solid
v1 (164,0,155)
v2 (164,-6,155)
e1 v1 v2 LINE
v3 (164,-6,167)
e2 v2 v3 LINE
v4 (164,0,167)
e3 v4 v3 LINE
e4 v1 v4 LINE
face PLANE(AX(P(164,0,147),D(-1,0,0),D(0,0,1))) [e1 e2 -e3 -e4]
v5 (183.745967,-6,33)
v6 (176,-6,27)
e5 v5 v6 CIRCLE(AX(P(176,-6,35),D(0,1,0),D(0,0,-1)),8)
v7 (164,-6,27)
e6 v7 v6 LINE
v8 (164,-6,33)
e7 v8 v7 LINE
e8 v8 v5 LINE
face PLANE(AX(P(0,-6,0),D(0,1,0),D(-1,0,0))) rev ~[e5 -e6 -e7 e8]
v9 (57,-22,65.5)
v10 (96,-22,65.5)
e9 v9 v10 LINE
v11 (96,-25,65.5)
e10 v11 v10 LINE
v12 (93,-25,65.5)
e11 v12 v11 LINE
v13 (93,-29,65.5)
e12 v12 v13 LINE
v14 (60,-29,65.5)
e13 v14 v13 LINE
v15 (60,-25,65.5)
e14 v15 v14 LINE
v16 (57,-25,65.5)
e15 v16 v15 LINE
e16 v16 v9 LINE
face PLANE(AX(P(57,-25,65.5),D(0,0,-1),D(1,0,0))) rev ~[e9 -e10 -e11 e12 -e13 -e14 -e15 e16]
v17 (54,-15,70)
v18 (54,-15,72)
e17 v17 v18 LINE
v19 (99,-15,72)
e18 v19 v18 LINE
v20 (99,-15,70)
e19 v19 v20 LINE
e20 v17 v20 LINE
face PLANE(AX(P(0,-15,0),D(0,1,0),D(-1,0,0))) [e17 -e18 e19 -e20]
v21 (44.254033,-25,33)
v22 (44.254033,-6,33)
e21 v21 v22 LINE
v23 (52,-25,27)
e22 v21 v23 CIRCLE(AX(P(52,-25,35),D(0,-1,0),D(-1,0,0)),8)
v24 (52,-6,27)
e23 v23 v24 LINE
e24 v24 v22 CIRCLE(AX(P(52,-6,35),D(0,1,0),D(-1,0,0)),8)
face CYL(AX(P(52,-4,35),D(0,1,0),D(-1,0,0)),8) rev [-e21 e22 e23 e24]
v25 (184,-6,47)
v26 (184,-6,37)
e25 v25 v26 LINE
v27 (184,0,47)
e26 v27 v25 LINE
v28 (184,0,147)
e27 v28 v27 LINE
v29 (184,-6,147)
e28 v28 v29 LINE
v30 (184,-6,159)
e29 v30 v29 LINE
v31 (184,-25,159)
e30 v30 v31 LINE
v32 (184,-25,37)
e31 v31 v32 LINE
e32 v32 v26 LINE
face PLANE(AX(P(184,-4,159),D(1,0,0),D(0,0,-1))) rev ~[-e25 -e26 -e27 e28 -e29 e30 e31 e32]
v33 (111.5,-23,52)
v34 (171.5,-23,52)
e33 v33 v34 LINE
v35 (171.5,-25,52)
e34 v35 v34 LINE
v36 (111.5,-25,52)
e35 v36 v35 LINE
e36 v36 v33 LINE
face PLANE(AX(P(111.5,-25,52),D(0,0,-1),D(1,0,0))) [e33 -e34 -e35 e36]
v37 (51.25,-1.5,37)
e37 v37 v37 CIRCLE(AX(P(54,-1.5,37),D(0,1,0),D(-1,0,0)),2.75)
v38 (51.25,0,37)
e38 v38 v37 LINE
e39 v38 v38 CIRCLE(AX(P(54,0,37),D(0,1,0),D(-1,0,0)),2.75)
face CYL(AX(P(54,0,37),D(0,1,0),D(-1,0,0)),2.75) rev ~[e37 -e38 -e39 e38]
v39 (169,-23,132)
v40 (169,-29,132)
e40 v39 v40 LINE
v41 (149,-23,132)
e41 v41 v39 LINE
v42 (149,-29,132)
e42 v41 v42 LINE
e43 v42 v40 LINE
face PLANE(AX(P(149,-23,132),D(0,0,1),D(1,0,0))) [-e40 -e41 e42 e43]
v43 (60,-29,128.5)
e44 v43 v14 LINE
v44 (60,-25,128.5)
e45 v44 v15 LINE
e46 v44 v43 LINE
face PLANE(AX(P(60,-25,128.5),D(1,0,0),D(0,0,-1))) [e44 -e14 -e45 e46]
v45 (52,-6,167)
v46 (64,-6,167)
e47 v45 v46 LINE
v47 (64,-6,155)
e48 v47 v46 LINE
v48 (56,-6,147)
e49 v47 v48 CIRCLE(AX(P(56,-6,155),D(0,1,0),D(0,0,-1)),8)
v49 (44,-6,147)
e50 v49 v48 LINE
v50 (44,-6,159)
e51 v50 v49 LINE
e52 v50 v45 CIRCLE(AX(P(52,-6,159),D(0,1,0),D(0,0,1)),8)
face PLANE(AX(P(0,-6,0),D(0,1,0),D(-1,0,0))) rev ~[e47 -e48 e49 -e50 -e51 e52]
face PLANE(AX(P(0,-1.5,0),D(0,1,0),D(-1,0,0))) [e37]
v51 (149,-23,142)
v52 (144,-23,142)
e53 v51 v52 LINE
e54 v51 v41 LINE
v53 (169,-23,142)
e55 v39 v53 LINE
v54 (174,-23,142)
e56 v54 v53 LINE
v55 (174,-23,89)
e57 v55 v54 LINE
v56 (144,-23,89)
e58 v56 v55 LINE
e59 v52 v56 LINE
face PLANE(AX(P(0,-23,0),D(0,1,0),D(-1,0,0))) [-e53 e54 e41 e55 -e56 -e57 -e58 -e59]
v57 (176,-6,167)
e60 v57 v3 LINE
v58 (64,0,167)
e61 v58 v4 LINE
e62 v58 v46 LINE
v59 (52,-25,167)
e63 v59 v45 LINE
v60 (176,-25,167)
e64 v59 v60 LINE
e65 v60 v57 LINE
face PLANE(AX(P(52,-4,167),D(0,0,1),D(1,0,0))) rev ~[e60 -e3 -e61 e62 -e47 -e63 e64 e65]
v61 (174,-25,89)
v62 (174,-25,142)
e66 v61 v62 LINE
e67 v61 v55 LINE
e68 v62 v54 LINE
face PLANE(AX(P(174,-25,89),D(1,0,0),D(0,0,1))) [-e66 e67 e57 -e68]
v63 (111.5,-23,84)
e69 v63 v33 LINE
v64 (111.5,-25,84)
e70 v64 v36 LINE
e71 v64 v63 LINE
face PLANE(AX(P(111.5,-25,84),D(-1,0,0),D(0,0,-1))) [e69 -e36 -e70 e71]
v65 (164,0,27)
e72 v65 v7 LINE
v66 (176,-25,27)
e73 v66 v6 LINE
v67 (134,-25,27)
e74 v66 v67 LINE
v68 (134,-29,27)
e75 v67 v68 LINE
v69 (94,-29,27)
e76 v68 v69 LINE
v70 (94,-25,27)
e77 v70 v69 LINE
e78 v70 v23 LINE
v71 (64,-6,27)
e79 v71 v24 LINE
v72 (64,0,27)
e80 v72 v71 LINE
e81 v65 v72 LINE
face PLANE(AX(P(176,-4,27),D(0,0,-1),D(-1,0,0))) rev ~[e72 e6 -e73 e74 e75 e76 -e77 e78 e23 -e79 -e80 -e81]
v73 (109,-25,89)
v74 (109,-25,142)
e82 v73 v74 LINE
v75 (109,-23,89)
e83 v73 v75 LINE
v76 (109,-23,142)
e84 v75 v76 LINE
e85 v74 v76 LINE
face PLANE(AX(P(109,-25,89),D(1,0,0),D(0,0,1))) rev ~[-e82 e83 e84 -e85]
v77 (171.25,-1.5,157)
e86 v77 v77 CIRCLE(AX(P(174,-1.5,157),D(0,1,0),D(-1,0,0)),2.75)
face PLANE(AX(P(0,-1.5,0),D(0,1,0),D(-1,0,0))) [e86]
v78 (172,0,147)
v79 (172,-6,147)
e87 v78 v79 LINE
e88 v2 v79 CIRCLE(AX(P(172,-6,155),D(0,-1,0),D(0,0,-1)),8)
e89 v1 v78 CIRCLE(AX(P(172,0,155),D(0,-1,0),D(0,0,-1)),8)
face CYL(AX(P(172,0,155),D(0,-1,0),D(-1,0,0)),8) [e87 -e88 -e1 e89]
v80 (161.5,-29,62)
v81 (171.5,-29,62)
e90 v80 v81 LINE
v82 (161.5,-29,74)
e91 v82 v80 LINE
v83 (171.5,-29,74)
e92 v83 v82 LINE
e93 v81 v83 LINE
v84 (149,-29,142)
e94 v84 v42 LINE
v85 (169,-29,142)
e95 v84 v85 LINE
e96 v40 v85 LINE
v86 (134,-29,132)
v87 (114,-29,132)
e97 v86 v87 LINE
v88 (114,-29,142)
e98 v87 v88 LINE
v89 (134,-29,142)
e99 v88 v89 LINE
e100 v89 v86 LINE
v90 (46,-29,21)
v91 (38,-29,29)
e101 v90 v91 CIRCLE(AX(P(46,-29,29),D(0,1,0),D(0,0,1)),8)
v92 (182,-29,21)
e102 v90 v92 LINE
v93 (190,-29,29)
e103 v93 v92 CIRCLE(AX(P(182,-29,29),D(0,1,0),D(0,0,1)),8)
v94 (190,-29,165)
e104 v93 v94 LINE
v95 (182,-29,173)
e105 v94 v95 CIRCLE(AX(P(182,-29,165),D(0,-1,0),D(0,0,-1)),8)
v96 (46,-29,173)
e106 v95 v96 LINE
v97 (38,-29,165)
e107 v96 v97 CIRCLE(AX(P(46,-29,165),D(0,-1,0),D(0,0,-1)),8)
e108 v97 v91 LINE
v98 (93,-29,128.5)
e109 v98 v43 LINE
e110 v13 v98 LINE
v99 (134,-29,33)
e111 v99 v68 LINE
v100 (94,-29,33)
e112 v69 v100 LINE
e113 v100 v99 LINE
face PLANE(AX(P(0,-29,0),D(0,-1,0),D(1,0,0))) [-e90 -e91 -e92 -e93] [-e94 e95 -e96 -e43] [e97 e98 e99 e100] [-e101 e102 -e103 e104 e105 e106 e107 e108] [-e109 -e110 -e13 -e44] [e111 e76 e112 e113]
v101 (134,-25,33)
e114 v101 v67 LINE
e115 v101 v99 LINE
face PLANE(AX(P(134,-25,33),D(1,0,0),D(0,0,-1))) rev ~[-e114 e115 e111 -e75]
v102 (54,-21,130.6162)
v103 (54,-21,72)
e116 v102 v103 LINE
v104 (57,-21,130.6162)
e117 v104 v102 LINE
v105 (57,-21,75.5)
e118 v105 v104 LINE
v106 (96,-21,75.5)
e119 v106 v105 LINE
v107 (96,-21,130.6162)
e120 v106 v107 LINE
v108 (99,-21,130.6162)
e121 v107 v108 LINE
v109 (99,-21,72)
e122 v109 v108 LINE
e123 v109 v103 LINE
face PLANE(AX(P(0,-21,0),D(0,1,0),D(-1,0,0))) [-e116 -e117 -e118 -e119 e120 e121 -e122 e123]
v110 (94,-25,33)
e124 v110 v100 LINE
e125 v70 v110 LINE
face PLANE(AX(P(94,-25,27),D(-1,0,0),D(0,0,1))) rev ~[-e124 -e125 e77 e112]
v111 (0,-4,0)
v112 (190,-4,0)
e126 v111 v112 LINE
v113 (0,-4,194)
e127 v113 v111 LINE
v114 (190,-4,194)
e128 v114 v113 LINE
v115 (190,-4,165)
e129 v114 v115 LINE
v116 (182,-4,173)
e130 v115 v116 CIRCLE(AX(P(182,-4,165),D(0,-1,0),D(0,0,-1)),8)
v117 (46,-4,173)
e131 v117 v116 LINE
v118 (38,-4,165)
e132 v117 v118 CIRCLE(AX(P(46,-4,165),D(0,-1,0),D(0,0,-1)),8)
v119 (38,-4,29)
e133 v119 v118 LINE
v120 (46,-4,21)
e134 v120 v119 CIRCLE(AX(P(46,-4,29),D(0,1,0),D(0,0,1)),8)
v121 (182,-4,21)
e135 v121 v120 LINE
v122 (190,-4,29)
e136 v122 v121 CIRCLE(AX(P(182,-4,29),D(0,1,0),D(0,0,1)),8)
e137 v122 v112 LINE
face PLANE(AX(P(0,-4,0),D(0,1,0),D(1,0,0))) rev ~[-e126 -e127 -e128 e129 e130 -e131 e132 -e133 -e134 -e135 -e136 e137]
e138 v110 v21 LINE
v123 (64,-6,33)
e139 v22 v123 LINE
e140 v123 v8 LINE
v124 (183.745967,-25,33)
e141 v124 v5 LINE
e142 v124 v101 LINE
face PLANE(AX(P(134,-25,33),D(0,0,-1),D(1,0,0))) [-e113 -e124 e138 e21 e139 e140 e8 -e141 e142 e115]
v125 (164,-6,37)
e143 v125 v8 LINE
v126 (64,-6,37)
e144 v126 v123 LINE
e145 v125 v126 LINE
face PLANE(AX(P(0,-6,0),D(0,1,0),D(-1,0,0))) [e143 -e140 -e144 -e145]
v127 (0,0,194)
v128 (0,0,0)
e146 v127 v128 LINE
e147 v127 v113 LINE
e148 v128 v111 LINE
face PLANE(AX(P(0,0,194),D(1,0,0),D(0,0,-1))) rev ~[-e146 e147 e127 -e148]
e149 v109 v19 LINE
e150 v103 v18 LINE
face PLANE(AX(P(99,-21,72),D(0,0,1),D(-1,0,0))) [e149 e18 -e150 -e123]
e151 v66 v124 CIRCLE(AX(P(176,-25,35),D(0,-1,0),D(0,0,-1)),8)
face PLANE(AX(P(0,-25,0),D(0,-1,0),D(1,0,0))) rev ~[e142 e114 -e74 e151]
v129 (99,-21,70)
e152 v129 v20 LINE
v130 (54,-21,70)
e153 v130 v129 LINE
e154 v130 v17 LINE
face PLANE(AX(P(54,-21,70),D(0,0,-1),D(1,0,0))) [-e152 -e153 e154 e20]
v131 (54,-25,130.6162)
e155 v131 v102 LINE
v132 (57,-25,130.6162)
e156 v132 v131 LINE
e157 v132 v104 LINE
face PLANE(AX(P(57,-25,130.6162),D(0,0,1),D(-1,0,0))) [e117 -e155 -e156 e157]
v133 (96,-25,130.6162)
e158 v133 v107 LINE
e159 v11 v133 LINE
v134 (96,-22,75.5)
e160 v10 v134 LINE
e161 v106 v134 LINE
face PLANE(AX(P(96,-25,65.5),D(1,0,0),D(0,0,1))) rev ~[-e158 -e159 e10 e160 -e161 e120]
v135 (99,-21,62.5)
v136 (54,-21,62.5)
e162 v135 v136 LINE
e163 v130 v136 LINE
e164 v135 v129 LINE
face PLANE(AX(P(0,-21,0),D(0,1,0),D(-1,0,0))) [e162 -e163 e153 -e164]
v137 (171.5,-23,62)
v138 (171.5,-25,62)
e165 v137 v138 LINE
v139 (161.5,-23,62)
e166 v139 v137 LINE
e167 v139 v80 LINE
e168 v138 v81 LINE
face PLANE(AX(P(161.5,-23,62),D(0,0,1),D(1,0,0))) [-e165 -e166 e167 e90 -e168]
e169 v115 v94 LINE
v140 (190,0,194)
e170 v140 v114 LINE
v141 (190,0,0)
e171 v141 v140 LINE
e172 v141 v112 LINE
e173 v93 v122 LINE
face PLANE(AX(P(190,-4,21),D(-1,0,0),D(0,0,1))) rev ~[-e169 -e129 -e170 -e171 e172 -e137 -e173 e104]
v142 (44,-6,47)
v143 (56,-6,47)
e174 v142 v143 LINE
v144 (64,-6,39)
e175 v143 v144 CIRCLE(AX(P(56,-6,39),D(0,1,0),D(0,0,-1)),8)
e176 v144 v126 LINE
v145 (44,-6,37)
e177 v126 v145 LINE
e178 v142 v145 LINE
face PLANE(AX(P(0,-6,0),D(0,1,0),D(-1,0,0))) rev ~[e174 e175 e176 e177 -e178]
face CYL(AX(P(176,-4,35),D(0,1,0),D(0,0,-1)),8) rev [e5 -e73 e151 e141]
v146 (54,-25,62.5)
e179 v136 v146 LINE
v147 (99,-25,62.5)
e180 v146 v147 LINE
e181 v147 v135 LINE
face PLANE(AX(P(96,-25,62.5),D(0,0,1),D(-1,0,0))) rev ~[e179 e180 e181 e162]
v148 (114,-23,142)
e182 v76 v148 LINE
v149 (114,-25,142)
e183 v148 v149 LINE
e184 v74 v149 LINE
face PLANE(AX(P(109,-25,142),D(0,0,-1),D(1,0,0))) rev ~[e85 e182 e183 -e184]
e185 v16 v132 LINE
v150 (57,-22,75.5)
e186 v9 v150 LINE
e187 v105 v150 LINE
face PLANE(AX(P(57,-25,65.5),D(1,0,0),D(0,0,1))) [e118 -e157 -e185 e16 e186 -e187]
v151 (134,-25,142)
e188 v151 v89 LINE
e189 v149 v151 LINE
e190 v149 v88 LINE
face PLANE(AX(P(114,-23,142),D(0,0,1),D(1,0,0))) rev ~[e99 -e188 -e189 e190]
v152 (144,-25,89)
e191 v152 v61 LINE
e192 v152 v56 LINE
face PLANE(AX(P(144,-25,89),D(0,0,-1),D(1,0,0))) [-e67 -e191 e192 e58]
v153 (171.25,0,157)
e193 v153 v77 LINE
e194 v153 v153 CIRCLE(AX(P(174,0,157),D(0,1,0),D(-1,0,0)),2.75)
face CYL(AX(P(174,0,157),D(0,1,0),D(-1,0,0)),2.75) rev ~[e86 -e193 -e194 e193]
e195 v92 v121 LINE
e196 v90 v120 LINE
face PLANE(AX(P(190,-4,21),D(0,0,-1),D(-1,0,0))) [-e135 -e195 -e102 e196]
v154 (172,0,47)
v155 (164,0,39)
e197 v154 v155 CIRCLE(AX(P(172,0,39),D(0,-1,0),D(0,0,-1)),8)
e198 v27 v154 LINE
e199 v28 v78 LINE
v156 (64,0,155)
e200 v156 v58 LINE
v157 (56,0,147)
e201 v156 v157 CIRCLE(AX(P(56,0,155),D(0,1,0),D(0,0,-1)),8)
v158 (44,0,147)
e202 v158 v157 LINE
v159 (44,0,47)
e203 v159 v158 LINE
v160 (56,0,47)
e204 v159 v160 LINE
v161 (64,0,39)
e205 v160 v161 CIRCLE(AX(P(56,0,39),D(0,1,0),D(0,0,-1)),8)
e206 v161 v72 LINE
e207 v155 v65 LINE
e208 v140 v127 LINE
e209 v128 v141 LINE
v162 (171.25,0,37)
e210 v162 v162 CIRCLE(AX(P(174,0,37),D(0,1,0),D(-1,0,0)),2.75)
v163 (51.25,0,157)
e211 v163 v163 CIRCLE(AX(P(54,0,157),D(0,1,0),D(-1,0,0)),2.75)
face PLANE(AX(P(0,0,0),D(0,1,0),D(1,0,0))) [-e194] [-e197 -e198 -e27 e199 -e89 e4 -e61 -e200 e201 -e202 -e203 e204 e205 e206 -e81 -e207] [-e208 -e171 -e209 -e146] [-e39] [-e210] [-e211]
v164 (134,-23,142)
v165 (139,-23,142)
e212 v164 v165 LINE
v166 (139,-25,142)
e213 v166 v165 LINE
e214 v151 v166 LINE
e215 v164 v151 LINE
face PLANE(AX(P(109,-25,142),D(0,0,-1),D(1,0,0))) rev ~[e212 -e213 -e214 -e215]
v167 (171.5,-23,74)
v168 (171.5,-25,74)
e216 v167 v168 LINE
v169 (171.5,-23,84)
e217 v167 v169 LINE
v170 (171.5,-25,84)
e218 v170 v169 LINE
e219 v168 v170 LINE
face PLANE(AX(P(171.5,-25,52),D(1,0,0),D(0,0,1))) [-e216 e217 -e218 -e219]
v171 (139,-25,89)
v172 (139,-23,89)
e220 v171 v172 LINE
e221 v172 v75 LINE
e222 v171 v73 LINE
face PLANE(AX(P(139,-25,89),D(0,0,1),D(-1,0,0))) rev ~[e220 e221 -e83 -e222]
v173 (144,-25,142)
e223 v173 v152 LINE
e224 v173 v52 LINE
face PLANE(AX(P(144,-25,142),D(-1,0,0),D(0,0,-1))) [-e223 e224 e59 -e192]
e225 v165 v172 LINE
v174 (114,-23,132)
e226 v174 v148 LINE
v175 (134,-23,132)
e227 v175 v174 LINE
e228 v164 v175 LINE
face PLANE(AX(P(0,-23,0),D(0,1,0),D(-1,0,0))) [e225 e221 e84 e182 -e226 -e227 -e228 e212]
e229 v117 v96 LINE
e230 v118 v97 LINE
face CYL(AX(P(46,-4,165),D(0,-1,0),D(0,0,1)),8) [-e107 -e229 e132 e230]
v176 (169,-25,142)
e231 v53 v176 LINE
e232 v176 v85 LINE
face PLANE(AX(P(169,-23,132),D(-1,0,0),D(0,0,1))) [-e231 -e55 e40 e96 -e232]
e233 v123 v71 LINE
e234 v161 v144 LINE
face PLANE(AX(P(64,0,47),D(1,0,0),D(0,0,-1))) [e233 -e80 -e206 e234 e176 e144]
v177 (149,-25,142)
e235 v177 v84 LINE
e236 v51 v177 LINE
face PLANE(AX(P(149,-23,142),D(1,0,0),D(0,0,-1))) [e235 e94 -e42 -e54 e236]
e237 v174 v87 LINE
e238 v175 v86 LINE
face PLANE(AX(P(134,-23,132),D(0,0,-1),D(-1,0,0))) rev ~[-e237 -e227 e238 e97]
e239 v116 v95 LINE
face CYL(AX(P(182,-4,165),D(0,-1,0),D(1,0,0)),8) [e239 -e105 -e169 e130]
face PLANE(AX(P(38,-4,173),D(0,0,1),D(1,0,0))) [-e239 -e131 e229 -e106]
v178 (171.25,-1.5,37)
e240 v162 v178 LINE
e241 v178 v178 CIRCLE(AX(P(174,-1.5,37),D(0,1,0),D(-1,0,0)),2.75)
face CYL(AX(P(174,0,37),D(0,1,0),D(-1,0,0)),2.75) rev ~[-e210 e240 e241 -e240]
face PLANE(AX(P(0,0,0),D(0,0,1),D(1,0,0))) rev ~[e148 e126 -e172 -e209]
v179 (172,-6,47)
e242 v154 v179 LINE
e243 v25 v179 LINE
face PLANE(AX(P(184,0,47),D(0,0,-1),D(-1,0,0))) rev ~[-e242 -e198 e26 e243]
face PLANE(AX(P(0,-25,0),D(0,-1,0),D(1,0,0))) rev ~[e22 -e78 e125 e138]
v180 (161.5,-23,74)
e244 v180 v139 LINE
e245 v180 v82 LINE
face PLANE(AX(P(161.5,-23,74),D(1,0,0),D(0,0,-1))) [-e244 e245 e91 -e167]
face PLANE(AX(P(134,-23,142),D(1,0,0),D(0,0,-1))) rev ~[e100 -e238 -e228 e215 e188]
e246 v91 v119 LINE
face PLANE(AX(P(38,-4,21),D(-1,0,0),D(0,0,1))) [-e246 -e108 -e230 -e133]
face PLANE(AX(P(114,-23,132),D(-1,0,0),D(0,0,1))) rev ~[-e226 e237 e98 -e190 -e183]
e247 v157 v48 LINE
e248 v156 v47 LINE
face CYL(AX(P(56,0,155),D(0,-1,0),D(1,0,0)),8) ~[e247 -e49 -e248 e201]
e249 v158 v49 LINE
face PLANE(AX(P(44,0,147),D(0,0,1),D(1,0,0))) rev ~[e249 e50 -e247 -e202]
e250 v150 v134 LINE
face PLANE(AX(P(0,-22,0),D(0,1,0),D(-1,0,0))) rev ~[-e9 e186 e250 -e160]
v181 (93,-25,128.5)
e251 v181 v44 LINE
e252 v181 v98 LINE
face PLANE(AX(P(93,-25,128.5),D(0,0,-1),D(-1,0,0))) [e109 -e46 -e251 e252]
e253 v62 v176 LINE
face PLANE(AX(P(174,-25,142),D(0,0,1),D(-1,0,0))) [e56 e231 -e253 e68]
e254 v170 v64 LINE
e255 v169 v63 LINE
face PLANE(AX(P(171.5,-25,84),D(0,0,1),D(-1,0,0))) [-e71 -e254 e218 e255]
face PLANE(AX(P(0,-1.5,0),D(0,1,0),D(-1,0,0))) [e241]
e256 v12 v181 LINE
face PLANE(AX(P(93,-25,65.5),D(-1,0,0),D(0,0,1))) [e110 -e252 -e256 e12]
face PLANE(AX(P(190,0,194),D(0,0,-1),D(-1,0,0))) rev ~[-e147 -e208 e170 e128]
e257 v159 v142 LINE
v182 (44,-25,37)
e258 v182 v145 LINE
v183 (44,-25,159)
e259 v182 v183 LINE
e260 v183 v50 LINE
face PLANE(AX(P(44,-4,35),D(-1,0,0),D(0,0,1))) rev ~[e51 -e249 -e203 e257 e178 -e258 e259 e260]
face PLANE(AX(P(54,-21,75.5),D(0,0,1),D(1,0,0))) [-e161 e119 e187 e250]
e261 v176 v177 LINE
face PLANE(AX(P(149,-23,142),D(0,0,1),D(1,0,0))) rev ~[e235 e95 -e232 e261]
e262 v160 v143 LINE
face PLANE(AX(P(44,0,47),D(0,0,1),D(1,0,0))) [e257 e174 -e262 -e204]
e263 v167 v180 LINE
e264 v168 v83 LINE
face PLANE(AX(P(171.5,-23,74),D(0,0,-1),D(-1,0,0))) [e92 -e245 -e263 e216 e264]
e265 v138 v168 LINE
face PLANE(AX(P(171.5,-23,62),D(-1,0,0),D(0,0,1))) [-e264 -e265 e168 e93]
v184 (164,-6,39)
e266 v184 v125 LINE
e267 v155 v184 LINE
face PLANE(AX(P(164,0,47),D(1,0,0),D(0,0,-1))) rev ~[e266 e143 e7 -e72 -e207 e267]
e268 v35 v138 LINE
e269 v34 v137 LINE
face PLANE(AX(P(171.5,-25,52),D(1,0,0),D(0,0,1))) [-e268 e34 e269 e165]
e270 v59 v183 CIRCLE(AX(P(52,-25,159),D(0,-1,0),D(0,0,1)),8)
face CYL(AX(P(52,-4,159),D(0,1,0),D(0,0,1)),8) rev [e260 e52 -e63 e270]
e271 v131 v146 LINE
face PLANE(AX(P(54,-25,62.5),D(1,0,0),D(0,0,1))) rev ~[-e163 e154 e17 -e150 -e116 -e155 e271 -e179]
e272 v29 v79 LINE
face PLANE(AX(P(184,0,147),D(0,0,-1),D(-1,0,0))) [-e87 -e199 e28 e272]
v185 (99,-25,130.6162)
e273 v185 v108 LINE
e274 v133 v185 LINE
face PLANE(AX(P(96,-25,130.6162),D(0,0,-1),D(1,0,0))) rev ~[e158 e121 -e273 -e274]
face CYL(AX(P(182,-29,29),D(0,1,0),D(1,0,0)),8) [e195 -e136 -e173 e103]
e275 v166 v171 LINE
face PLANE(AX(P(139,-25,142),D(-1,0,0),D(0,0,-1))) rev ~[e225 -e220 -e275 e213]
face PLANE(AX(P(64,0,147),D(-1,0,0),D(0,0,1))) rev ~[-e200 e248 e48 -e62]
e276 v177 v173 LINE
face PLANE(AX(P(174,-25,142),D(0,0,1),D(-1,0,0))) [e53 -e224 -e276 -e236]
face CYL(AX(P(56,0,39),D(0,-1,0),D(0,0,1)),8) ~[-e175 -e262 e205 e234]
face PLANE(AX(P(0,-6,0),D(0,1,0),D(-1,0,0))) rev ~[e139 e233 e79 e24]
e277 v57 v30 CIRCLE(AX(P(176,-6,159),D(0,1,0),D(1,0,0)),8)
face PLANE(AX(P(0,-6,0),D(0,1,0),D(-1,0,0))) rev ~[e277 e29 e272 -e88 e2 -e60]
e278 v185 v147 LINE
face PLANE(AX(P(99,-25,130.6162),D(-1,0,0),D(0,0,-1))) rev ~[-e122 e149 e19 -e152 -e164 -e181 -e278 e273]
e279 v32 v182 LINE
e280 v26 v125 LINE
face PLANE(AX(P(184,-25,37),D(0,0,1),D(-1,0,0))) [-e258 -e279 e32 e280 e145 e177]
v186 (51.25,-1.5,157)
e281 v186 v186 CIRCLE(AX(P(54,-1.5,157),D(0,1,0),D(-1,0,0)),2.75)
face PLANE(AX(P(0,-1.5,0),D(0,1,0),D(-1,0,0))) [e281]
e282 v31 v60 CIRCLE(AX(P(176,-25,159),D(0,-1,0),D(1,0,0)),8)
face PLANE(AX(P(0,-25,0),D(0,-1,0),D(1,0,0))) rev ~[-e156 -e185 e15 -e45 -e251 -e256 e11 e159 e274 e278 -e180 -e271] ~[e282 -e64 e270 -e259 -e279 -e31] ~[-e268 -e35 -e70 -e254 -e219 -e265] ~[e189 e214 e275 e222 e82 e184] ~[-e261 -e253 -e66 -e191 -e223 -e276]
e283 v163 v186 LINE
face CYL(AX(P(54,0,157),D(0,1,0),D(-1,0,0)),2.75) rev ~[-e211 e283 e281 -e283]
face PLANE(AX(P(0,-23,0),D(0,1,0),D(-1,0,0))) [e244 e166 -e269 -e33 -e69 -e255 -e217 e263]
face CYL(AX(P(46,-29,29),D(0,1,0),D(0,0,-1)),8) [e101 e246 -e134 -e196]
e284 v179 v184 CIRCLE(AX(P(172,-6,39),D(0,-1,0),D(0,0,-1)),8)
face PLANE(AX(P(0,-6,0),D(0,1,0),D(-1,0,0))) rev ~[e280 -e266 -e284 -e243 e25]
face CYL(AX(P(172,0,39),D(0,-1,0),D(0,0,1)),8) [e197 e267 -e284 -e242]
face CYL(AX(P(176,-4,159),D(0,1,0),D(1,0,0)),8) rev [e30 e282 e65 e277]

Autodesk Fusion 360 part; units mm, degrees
sketch "Sketch1" plane through (0, 0, 0) normal (0, 1, 0) x (1, 0, 0)
  line L0 (0, 0) -> (190, 0)
  line L1 (190, 0) -> (190, -194)
  line L2 (190, -194) -> (0, -194)
  line L3 (0, -194) -> (0, 0)
  dimension "d1" = 190
  dimension "d2" = 194
extrude "Extrude1" add sketch "Sketch1" against normal blind 4
sketch "Sketch2" plane through (0, -4, 0) normal (0, -1, 0) x (1, 0, 0)
  line L0 (190, 194) -> (0, 194)
  line L1 (0, 194) -> (0, 0)
  line L2 (0, 0) -> (190, 0)
  line L3 (190, 0) -> (190, 194)
  line L4 (44, 167) -> (184, 167)
  line L5 (184, 167) -> (184, 27)
  line L6 (184, 27) -> (44, 27)
  line L7 (44, 27) -> (44, 167)
  dimension "d5" = 44
  dimension "d6" = 140
  dimension "d7" = 27
  dimension "d8" = 140
extrude "Extrude2" cut sketch "Sketch2" against normal blind 4 contours L4 L5 L6 L7
fillet "Fillet1" radius 8 4 edges at (44, -2, 167) (44, -2, 27) (184, -2, 167) (184, -2, 27)
sketch "Sketch3" plane through (0, -4, 0) normal (0, -1, 0) x (1, 0, 0)
  line L0 (184, 159) -> (184, 35)
  arc A0 (176, 27) -> (184, 35) centre (176, 35) ccw
  line L1 (176, 27) -> (52, 27)
  arc A1 (44, 35) -> (52, 27) centre (52, 35) ccw
  line L2 (44, 35) -> (44, 159)
  arc A2 (52, 167) -> (44, 159) centre (52, 159) ccw
  line L3 (52, 167) -> (176, 167)
  arc A3 (184, 159) -> (176, 167) centre (176, 159) ccw
  line L4 (190, 194) -> (0, 194)
  line L5 (0, 194) -> (0, 0)
  line L6 (0, 0) -> (190, 0)
  line L7 (190, 0) -> (190, 194)
  line L8 (38, 173) -> (190, 173)
  line L9 (190, 173) -> (190, 21)
  line L10 (190, 21) -> (38, 21)
  line L11 (38, 21) -> (38, 173)
  dimension "d13" = 6
  dimension "d14" = 6
  dimension "d15" = 6
  dimension "d16" = 6
extrude "Extrude3" add sketch "Sketch3" along normal blind 21 contours L7 L8 L9 L10 L11
sketch "Sketch4" plane through (0, -25, 0) normal (0, -1, 0) x (1, 0, 0)
  arc A0 (176, 27) -> (184, 35) centre (176, 35) ccw
  line L0 (176, 27) -> (52, 27)
  arc A1 (44, 35) -> (52, 27) centre (52, 35) ccw
  line L1 (44, 35) -> (44, 159)
  arc A2 (52, 167) -> (44, 159) centre (52, 159) ccw
  line L2 (52, 167) -> (176, 167)
  arc A3 (184, 159) -> (176, 167) centre (176, 159) ccw
  line L3 (184, 159) -> (184, 35)
  line L4 (38, 21) -> (190, 21)
  line L5 (190, 21) -> (190, 173)
  line L6 (190, 173) -> (38, 173)
  line L7 (38, 173) -> (38, 21)
  line L8 (38, 173) -> (190, 173)
  line L9 (190, 173) -> (190, 21)
  line L10 (190, 21) -> (38, 21)
  line L11 (38, 21) -> (38, 173)
extrude "Extrude4" add sketch "Sketch4" along normal blind 4 contours A0 L0 A1 L1 A2 L2 A3 L3 | L4 L5 L6 L7 L8 L9 L10 L11
fillet "Fillet2" radius 8 4 edges at (38, -16.5, 173) (190, -16.5, 173) (38, -16.5, 21) (190, -16.5, 21)
sketch "Sketch5" plane through (0, 0, 0) normal (0, 1, 0) x (-1, 0, 0)
  line L0 (-184, 35) -> (-184, 159)
  arc A0 (-176, 167) -> (-184, 159) centre (-176, 159) ccw
  line L1 (-176, 167) -> (-52, 167)
  arc A1 (-44, 159) -> (-52, 167) centre (-52, 159) ccw
  line L2 (-44, 159) -> (-44, 35)
  arc A2 (-52, 27) -> (-44, 35) centre (-52, 35) ccw
  line L3 (-52, 27) -> (-176, 27)
  arc A3 (-184, 35) -> (-176, 27) centre (-176, 35) ccw
  line L4 (0, 194) -> (-190, 194)
  line L5 (-190, 194) -> (-190, 0)
  line L6 (-190, 0) -> (0, 0)
  line L7 (0, 0) -> (0, 194)
  line L8 (-64, 167) -> (-44, 167)
  line L9 (-44, 167) -> (-44, 147)
  line L10 (-44, 147) -> (-64, 147)
  line L11 (-64, 147) -> (-64, 167)
  circle A4 centre (-54, 157) radius 2.75
  line L12 (-164, 167) -> (-184, 167)
  line L13 (-184, 167) -> (-184, 147)
  line L14 (-184, 147) -> (-164, 147)
  line L15 (-164, 147) -> (-164, 167)
  line L16 (-184, 47) -> (-164, 47)
  line L17 (-164, 47) -> (-164, 27)
  line L18 (-164, 27) -> (-184, 27)
  line L19 (-184, 27) -> (-184, 47)
  line L20 (-44, 47) -> (-64, 47)
  line L21 (-64, 47) -> (-64, 27)
  line L22 (-64, 27) -> (-44, 27)
  line L23 (-44, 27) -> (-44, 47)
  circle A5 centre (-174, 157) radius 2.75
  circle A6 centre (-174, 37) radius 2.75
  circle A7 centre (-54, 37) radius 2.75
  dimension "d23" = 5.5
  dimension "d24" = 10
  dimension "d25" = 10
  dimension "d26" = 10
  dimension "d27" = 10
  dimension "d28" = 5.5
  dimension "d29" = 10
  dimension "d30" = 10
  dimension "d31" = 10
  dimension "d32" = 10
  dimension "d33" = 5.5
  dimension "d34" = 5.5
  dimension "d35" = 10
  dimension "d36" = 10
  dimension "d37" = 10
  dimension "d38" = 10
  dimension "d39" = 10
  dimension "d40" = 10
  dimension "d41" = 10
  dimension "d42" = 10
extrude "Extrude5" add sketch "Sketch5" against normal blind 6 contours L0 L3 A3 L16 L17 L18 L19 | A3 L18 L19 | L0 A0 L1 L12 L13 L14 L15 | A0 L12 L13 | L2 A2 L3 L20 L21 L22 L23 | A2 L22 L23 | L1 A1 L2 L8 L9 L10 L11 | A1 L8 L9 | A4 | A5 | A6 | A7
extrude "Extrude6" cut sketch "Sketch5" against normal blind 1.5 contours A4 | A5 | A6 | A7
fillet "Fillet3" radius 8 4 edges at (164, -3, 147) (164, -3, 47) (64, -3, 47) (64, -3, 147)
sketch "Sketch6" plane through (0, -25, 0) normal (0, 1, 0) x (-1, 0, 0)
  arc A0 (-52, 27) -> (-44, 35) centre (-52, 35) ccw
  line L0 (-44, 35) -> (-44, 159)
  arc A1 (-44, 159) -> (-52, 167) centre (-52, 159) ccw
  line L1 (-52, 167) -> (-176, 167)
  arc A2 (-176, 167) -> (-184, 159) centre (-176, 159) ccw
  line L2 (-184, 159) -> (-184, 35)
  arc A3 (-184, 35) -> (-176, 27) centre (-176, 35) ccw
  line L3 (-176, 27) -> (-52, 27)
  line L4 (-93, 128.5) -> (-60, 128.5)
  line L5 (-60, 128.5) -> (-60, 65.5)
  line L6 (-60, 65.5) -> (-93, 65.5)
  line L7 (-93, 65.5) -> (-93, 128.5)
  dimension "d51" = 63
  dimension "d54" = 33
  dimension "d88" = 16
  dimension "d92" = 38.5
extrude "Extrude7" cut sketch "Sketch6" against normal blind 4 contours L4 L5 L6 L7
sketch "Sketch7" plane through (0, -25, 0) normal (0, 1, 0) x (-1, 0, 0)
  line L0 (-60, 128.5) -> (-60, 65.5)
  line L1 (-60, 65.5) -> (-93, 65.5)
  line L2 (-93, 65.5) -> (-93, 128.5)
  line L3 (-93, 128.5) -> (-60, 128.5)
  arc A0 (-52, 27) -> (-44, 35) centre (-52, 35) ccw
  line L4 (-44, 35) -> (-44, 159)
  arc A1 (-44, 159) -> (-52, 167) centre (-52, 159) ccw
  line L5 (-52, 167) -> (-176, 167)
  arc A2 (-176, 167) -> (-184, 159) centre (-176, 159) ccw
  line L6 (-184, 159) -> (-184, 35)
  arc A3 (-184, 35) -> (-176, 27) centre (-176, 35) ccw
  line L7 (-176, 27) -> (-52, 27)
  line L8 (-96, 130.6162) -> (-99, 130.6162)
  line L9 (-99, 130.6162) -> (-99, 62.5)
  line L10 (-99, 62.5) -> (-96, 62.5)
  line L11 (-96, 62.5) -> (-96, 130.6162)
  line L12 (-96, 62.5) -> (-54, 62.5)
  line L13 (-54, 62.5) -> (-54, 65.5)
  line L14 (-54, 65.5) -> (-96, 65.5)
  line L15 (-96, 65.5) -> (-96, 62.5)
  line L16 (-54, 65.5) -> (-57, 65.5)
  line L17 (-57, 65.5) -> (-57, 130.6162)
  line L18 (-57, 130.6162) -> (-54, 130.6162)
  line L19 (-54, 130.6162) -> (-54, 65.5)
  dimension "d55" = 3
  dimension "d56" = 3
  dimension "d57" = 3
  dimension "d58" = 3
  dimension "d59" = 3
extrude "Extrude8" add sketch "Sketch7" along normal blind 4 contours L1 L11 L12 L13 L14 L15 L16 | L14 L16 L17 L18 L19 | L8 L9 L10 L11 L15
sketch "Sketch8" plane through (0, -25, 0) normal (0, 1, 0) x (-1, 0, 0)
  line L0 (-96, 65.5) -> (-93, 65.5)
  line L1 (-93, 65.5) -> (-93, 128.5)
  line L2 (-93, 128.5) -> (-60, 128.5)
  line L3 (-60, 128.5) -> (-60, 65.5)
  line L4 (-60, 65.5) -> (-57, 65.5)
  line L5 (-57, 65.5) -> (-57, 130.6162)
  line L6 (-57, 130.6162) -> (-54, 130.6162)
  line L7 (-54, 130.6162) -> (-54, 62.5)
  line L8 (-54, 62.5) -> (-99, 62.5)
  line L9 (-99, 62.5) -> (-99, 130.6162)
  line L10 (-99, 130.6162) -> (-96, 130.6162)
  line L11 (-96, 130.6162) -> (-96, 65.5)
  arc A0 (-52, 27) -> (-44, 35) centre (-52, 35) ccw
  line L12 (-44, 35) -> (-44, 159)
  arc A1 (-44, 159) -> (-52, 167) centre (-52, 159) ccw
  line L13 (-52, 167) -> (-176, 167)
  arc A2 (-176, 167) -> (-184, 159) centre (-176, 159) ccw
  line L14 (-184, 159) -> (-184, 35)
  arc A3 (-184, 35) -> (-176, 27) centre (-176, 35) ccw
  line L15 (-176, 27) -> (-52, 27)
  line L16 (-174, 142) -> (-144, 142)
  line L17 (-144, 142) -> (-144, 89)
  line L18 (-144, 89) -> (-174, 89)
  line L19 (-174, 89) -> (-174, 142)
  line L20 (-109, 142) -> (-139, 142)
  line L21 (-139, 142) -> (-139, 89)
  line L22 (-139, 89) -> (-109, 89)
  line L23 (-109, 89) -> (-109, 142)
  line L24 (-171.5, 84) -> (-111.5, 84)
  line L25 (-111.5, 84) -> (-111.5, 52)
  line L26 (-111.5, 52) -> (-171.5, 52)
  line L27 (-171.5, 52) -> (-171.5, 84)
  dimension "d60" = 30
  dimension "d61" = 53
  dimension "d64" = 30
  dimension "d65" = 53
  dimension "d66" = 60
  dimension "d67" = 32
  dimension "d86" = 5
  dimension "d87" = 25
  dimension "d89" = 10
  dimension "d90" = 5
  dimension "d91" = 2.5
extrude "Extrude9" add sketch "Sketch8" along normal blind 2 contours L16 L17 L18 L19 | L20 L21 L22 L23 | L24 L25 L26 L27
sketch "Sketch9" plane through (0, -25, 0) normal (0, 1, 0) x (-1, 0, 0)
  line L0 (-171.5, 52) -> (-171.5, 84)
  line L1 (-171.5, 84) -> (-111.5, 84)
  line L2 (-111.5, 84) -> (-111.5, 52)
  line L3 (-111.5, 52) -> (-171.5, 52)
  line L4 (-109, 89) -> (-139, 89)
  line L5 (-139, 89) -> (-139, 142)
  line L6 (-139, 142) -> (-109, 142)
  line L7 (-109, 142) -> (-109, 89)
  line L8 (-174, 89) -> (-174, 142)
  line L9 (-174, 142) -> (-144, 142)
  line L10 (-144, 142) -> (-144, 89)
  line L11 (-144, 89) -> (-174, 89)
  line L12 (-96, 65.5) -> (-93, 65.5)
  line L13 (-93, 65.5) -> (-93, 128.5)
  line L14 (-93, 128.5) -> (-60, 128.5)
  line L15 (-60, 128.5) -> (-60, 65.5)
  line L16 (-60, 65.5) -> (-57, 65.5)
  line L17 (-57, 65.5) -> (-57, 130.6162)
  line L18 (-57, 130.6162) -> (-54, 130.6162)
  line L19 (-54, 130.6162) -> (-54, 62.5)
  line L20 (-54, 62.5) -> (-99, 62.5)
  line L21 (-99, 62.5) -> (-99, 130.6162)
  line L22 (-99, 130.6162) -> (-96, 130.6162)
  line L23 (-96, 130.6162) -> (-96, 65.5)
  arc A0 (-52, 27) -> (-44, 35) centre (-52, 35) ccw
  line L24 (-44, 35) -> (-44, 159)
  arc A1 (-44, 159) -> (-52, 167) centre (-52, 159) ccw
  line L25 (-52, 167) -> (-176, 167)
  arc A2 (-176, 167) -> (-184, 159) centre (-176, 159) ccw
  line L26 (-184, 159) -> (-184, 35)
  arc A3 (-184, 35) -> (-176, 27) centre (-176, 35) ccw
  line L27 (-176, 27) -> (-52, 27)
  line L28 (-134, 27) -> (-94, 27)
  line L29 (-94, 27) -> (-94, 33)
  line L30 (-94, 33) -> (-134, 33)
  line L31 (-134, 33) -> (-134, 27)
  dimension "d68" = 6
  dimension "d70" = 50
  dimension "d71" = 50
  dimension "d103" = 40
extrude "Extrude10" cut sketch "Sketch9" against normal blind 4 contours L27 L28 L29 L30 L31
sketch "Sketch10" plane through (0, -25, 0) normal (0, 1, 0) x (-1, 0, 0)
  line L0 (-134, 27) -> (-134, 33)
  line L1 (-134, 33) -> (-94, 33)
  line L2 (-94, 33) -> (-94, 27)
  line L3 (-94, 27) -> (-52, 27)
  arc A0 (-52, 27) -> (-44, 35) centre (-52, 35) ccw
  line L4 (-44, 35) -> (-44, 159)
  arc A1 (-44, 159) -> (-52, 167) centre (-52, 159) ccw
  line L5 (-52, 167) -> (-176, 167)
  arc A2 (-176, 167) -> (-184, 159) centre (-176, 159) ccw
  line L6 (-184, 159) -> (-184, 35)
  arc A3 (-184, 35) -> (-176, 27) centre (-176, 35) ccw
  line L7 (-176, 27) -> (-134, 27)
  line L8 (-96, 65.5) -> (-93, 65.5)
  line L9 (-93, 65.5) -> (-93, 128.5)
  line L10 (-93, 128.5) -> (-60, 128.5)
  line L11 (-60, 128.5) -> (-60, 65.5)
  line L12 (-60, 65.5) -> (-57, 65.5)
  line L13 (-57, 65.5) -> (-57, 130.6162)
  line L14 (-57, 130.6162) -> (-54, 130.6162)
  line L15 (-54, 130.6162) -> (-54, 62.5)
  line L16 (-54, 62.5) -> (-99, 62.5)
  line L17 (-99, 62.5) -> (-99, 130.6162)
  line L18 (-99, 130.6162) -> (-96, 130.6162)
  line L19 (-96, 130.6162) -> (-96, 65.5)
  line L20 (-174, 89) -> (-174, 142)
  line L21 (-174, 142) -> (-144, 142)
  line L22 (-144, 142) -> (-144, 89)
  line L23 (-144, 89) -> (-174, 89)
  line L24 (-109, 89) -> (-139, 89)
  line L25 (-139, 89) -> (-139, 142)
  line L26 (-139, 142) -> (-109, 142)
  line L27 (-109, 142) -> (-109, 89)
  line L28 (-171.5, 52) -> (-171.5, 84)
  line L29 (-171.5, 84) -> (-111.5, 84)
  line L30 (-111.5, 84) -> (-111.5, 52)
  line L31 (-111.5, 52) -> (-171.5, 52)
  line L32 (-184, 37) -> (-44, 37)
  line L33 (-44, 37) -> (-44, 33)
  line L34 (-44, 33) -> (-184, 33)
  line L35 (-184, 33) -> (-184, 37)
  dimension "d74" = 4
extrude "Extrude11" add sketch "Sketch10" along normal blind 19 contours L1 A0 L4 L6 A3 L32 L33 L34 L35 | A3 L34 L35 | A0 L33 L34
sketch "Sketch11" plane through (0, -23, 0) normal (0, 1, 0) x (-1, 0, 0)
  line L0 (-174, 89) -> (-144, 89)
  line L1 (-144, 89) -> (-144, 142)
  line L2 (-144, 142) -> (-174, 142)
  line L3 (-174, 142) -> (-174, 89)
  line L4 (-169, 142) -> (-149, 142)
  line L5 (-149, 142) -> (-149, 132)
  line L6 (-149, 132) -> (-169, 132)
  line L7 (-169, 132) -> (-169, 142)
  line L8 (-134, 132) -> (-114, 132)
  line L9 (-114, 132) -> (-114, 142)
  line L10 (-114, 142) -> (-134, 142)
  line L11 (-134, 142) -> (-134, 132)
  line L12 (-171.5, 74) -> (-161.5, 74)
  line L13 (-161.5, 74) -> (-161.5, 62)
  line L14 (-161.5, 62) -> (-171.5, 62)
  line L15 (-171.5, 62) -> (-171.5, 74)
  line L16 (-171.5, 84) -> (-171.5, 52)
  line L17 (-111.5, 84) -> (-171.5, 84)
  line L18 (-171.5, 52) -> (-111.5, 52)
  line L19 (-111.5, 52) -> (-111.5, 84)
  line L20 (-111.5, 84) -> (-171.5, 84)
  line L21 (-171.5, 84) -> (-171.5, 52)
  line L22 (-109, 142) -> (-139, 142)
  line L23 (-109, 89) -> (-109, 142)
  line L24 (-139, 142) -> (-139, 89)
  dimension "d93" = 10
  dimension "d94" = 10
  dimension "d95" = 10
  dimension "d96" = 5
  dimension "d97" = 5
  dimension "d98" = 10
  dimension "d100" = 10
  dimension "d101" = 5
  dimension "d102" = 5
extrude "Extrude12" cut sketch "Sketch11" against normal blind 6 contours L2 L4 L5 L6 L7 | L8 L9 L10 L11 L22 | L12 L13 L14 L15 L16 L21
sketch "Sketch12" plane through (0, -21, 0) normal (0, 1, 0) x (-1, 0, 0)
  line L0 (-57, 65.5) -> (-96, 65.5)
  line L1 (-96, 65.5) -> (-96, 130.6162)
  line L2 (-96, 130.6162) -> (-99, 130.6162)
  line L3 (-99, 130.6162) -> (-99, 62.5)
  line L4 (-99, 62.5) -> (-54, 62.5)
  line L5 (-54, 62.5) -> (-54, 130.6162)
  line L6 (-54, 130.6162) -> (-57, 130.6162)
  line L7 (-57, 130.6162) -> (-57, 65.5)
  line L8 (-99, 62.5) -> (-54, 62.5)
  line L9 (-54, 62.5) -> (-54, 75.5)
  line L10 (-54, 75.5) -> (-99, 75.5)
  line L11 (-99, 75.5) -> (-99, 62.5)
  dimension "d79" = 10
extrude "Extrude13" add sketch "Sketch12" against normal blind 1 contours L0 L1 L3 L4 L5 L7 L8 L9 L10 L11 | L0 L1 L7 L10
sketch "Sketch13" plane through (0, -21, 0) normal (0, 1, 0) x (-1, 0, 0)
  line L0 (-54, 62.5) -> (-54, 130.6162)
  line L1 (-54, 130.6162) -> (-57, 130.6162)
  line L2 (-57, 130.6162) -> (-57, 75.5)
  line L3 (-57, 75.5) -> (-96, 75.5)
  line L4 (-96, 75.5) -> (-96, 130.6162)
  line L5 (-96, 130.6162) -> (-99, 130.6162)
  line L6 (-99, 130.6162) -> (-99, 62.5)
  line L7 (-99, 62.5) -> (-54, 62.5)
  line L8 (-99, 72) -> (-54, 72)
  line L9 (-54, 72) -> (-54, 70)
  line L10 (-54, 70) -> (-99, 70)
  line L11 (-99, 70) -> (-99, 72)
  dimension "d82" = 2
extrude "Extrude14" add sketch "Sketch13" along normal blind 6 contours L0 L6 L8 L9 L10 L11
equation "d1 = 184 mm + ( ( 12 / 2 ) * 1 mm )"
equation "d2 = 140 mm + ( ( 2 * 27 ) * 1 mm )"
equation "d24 = 7.25 mm + ( ( 5.5 / 2 ) * 1 mm )"
equation "d25 = 7.25 mm + ( ( 5.5 / 2 ) * 1 mm )"
equation "d55 = ( ( 39 - 33 ) / 2 ) * 1 mm"
equation "d56 = ( ( 39 - 33 ) / 2 ) * 1 mm"
